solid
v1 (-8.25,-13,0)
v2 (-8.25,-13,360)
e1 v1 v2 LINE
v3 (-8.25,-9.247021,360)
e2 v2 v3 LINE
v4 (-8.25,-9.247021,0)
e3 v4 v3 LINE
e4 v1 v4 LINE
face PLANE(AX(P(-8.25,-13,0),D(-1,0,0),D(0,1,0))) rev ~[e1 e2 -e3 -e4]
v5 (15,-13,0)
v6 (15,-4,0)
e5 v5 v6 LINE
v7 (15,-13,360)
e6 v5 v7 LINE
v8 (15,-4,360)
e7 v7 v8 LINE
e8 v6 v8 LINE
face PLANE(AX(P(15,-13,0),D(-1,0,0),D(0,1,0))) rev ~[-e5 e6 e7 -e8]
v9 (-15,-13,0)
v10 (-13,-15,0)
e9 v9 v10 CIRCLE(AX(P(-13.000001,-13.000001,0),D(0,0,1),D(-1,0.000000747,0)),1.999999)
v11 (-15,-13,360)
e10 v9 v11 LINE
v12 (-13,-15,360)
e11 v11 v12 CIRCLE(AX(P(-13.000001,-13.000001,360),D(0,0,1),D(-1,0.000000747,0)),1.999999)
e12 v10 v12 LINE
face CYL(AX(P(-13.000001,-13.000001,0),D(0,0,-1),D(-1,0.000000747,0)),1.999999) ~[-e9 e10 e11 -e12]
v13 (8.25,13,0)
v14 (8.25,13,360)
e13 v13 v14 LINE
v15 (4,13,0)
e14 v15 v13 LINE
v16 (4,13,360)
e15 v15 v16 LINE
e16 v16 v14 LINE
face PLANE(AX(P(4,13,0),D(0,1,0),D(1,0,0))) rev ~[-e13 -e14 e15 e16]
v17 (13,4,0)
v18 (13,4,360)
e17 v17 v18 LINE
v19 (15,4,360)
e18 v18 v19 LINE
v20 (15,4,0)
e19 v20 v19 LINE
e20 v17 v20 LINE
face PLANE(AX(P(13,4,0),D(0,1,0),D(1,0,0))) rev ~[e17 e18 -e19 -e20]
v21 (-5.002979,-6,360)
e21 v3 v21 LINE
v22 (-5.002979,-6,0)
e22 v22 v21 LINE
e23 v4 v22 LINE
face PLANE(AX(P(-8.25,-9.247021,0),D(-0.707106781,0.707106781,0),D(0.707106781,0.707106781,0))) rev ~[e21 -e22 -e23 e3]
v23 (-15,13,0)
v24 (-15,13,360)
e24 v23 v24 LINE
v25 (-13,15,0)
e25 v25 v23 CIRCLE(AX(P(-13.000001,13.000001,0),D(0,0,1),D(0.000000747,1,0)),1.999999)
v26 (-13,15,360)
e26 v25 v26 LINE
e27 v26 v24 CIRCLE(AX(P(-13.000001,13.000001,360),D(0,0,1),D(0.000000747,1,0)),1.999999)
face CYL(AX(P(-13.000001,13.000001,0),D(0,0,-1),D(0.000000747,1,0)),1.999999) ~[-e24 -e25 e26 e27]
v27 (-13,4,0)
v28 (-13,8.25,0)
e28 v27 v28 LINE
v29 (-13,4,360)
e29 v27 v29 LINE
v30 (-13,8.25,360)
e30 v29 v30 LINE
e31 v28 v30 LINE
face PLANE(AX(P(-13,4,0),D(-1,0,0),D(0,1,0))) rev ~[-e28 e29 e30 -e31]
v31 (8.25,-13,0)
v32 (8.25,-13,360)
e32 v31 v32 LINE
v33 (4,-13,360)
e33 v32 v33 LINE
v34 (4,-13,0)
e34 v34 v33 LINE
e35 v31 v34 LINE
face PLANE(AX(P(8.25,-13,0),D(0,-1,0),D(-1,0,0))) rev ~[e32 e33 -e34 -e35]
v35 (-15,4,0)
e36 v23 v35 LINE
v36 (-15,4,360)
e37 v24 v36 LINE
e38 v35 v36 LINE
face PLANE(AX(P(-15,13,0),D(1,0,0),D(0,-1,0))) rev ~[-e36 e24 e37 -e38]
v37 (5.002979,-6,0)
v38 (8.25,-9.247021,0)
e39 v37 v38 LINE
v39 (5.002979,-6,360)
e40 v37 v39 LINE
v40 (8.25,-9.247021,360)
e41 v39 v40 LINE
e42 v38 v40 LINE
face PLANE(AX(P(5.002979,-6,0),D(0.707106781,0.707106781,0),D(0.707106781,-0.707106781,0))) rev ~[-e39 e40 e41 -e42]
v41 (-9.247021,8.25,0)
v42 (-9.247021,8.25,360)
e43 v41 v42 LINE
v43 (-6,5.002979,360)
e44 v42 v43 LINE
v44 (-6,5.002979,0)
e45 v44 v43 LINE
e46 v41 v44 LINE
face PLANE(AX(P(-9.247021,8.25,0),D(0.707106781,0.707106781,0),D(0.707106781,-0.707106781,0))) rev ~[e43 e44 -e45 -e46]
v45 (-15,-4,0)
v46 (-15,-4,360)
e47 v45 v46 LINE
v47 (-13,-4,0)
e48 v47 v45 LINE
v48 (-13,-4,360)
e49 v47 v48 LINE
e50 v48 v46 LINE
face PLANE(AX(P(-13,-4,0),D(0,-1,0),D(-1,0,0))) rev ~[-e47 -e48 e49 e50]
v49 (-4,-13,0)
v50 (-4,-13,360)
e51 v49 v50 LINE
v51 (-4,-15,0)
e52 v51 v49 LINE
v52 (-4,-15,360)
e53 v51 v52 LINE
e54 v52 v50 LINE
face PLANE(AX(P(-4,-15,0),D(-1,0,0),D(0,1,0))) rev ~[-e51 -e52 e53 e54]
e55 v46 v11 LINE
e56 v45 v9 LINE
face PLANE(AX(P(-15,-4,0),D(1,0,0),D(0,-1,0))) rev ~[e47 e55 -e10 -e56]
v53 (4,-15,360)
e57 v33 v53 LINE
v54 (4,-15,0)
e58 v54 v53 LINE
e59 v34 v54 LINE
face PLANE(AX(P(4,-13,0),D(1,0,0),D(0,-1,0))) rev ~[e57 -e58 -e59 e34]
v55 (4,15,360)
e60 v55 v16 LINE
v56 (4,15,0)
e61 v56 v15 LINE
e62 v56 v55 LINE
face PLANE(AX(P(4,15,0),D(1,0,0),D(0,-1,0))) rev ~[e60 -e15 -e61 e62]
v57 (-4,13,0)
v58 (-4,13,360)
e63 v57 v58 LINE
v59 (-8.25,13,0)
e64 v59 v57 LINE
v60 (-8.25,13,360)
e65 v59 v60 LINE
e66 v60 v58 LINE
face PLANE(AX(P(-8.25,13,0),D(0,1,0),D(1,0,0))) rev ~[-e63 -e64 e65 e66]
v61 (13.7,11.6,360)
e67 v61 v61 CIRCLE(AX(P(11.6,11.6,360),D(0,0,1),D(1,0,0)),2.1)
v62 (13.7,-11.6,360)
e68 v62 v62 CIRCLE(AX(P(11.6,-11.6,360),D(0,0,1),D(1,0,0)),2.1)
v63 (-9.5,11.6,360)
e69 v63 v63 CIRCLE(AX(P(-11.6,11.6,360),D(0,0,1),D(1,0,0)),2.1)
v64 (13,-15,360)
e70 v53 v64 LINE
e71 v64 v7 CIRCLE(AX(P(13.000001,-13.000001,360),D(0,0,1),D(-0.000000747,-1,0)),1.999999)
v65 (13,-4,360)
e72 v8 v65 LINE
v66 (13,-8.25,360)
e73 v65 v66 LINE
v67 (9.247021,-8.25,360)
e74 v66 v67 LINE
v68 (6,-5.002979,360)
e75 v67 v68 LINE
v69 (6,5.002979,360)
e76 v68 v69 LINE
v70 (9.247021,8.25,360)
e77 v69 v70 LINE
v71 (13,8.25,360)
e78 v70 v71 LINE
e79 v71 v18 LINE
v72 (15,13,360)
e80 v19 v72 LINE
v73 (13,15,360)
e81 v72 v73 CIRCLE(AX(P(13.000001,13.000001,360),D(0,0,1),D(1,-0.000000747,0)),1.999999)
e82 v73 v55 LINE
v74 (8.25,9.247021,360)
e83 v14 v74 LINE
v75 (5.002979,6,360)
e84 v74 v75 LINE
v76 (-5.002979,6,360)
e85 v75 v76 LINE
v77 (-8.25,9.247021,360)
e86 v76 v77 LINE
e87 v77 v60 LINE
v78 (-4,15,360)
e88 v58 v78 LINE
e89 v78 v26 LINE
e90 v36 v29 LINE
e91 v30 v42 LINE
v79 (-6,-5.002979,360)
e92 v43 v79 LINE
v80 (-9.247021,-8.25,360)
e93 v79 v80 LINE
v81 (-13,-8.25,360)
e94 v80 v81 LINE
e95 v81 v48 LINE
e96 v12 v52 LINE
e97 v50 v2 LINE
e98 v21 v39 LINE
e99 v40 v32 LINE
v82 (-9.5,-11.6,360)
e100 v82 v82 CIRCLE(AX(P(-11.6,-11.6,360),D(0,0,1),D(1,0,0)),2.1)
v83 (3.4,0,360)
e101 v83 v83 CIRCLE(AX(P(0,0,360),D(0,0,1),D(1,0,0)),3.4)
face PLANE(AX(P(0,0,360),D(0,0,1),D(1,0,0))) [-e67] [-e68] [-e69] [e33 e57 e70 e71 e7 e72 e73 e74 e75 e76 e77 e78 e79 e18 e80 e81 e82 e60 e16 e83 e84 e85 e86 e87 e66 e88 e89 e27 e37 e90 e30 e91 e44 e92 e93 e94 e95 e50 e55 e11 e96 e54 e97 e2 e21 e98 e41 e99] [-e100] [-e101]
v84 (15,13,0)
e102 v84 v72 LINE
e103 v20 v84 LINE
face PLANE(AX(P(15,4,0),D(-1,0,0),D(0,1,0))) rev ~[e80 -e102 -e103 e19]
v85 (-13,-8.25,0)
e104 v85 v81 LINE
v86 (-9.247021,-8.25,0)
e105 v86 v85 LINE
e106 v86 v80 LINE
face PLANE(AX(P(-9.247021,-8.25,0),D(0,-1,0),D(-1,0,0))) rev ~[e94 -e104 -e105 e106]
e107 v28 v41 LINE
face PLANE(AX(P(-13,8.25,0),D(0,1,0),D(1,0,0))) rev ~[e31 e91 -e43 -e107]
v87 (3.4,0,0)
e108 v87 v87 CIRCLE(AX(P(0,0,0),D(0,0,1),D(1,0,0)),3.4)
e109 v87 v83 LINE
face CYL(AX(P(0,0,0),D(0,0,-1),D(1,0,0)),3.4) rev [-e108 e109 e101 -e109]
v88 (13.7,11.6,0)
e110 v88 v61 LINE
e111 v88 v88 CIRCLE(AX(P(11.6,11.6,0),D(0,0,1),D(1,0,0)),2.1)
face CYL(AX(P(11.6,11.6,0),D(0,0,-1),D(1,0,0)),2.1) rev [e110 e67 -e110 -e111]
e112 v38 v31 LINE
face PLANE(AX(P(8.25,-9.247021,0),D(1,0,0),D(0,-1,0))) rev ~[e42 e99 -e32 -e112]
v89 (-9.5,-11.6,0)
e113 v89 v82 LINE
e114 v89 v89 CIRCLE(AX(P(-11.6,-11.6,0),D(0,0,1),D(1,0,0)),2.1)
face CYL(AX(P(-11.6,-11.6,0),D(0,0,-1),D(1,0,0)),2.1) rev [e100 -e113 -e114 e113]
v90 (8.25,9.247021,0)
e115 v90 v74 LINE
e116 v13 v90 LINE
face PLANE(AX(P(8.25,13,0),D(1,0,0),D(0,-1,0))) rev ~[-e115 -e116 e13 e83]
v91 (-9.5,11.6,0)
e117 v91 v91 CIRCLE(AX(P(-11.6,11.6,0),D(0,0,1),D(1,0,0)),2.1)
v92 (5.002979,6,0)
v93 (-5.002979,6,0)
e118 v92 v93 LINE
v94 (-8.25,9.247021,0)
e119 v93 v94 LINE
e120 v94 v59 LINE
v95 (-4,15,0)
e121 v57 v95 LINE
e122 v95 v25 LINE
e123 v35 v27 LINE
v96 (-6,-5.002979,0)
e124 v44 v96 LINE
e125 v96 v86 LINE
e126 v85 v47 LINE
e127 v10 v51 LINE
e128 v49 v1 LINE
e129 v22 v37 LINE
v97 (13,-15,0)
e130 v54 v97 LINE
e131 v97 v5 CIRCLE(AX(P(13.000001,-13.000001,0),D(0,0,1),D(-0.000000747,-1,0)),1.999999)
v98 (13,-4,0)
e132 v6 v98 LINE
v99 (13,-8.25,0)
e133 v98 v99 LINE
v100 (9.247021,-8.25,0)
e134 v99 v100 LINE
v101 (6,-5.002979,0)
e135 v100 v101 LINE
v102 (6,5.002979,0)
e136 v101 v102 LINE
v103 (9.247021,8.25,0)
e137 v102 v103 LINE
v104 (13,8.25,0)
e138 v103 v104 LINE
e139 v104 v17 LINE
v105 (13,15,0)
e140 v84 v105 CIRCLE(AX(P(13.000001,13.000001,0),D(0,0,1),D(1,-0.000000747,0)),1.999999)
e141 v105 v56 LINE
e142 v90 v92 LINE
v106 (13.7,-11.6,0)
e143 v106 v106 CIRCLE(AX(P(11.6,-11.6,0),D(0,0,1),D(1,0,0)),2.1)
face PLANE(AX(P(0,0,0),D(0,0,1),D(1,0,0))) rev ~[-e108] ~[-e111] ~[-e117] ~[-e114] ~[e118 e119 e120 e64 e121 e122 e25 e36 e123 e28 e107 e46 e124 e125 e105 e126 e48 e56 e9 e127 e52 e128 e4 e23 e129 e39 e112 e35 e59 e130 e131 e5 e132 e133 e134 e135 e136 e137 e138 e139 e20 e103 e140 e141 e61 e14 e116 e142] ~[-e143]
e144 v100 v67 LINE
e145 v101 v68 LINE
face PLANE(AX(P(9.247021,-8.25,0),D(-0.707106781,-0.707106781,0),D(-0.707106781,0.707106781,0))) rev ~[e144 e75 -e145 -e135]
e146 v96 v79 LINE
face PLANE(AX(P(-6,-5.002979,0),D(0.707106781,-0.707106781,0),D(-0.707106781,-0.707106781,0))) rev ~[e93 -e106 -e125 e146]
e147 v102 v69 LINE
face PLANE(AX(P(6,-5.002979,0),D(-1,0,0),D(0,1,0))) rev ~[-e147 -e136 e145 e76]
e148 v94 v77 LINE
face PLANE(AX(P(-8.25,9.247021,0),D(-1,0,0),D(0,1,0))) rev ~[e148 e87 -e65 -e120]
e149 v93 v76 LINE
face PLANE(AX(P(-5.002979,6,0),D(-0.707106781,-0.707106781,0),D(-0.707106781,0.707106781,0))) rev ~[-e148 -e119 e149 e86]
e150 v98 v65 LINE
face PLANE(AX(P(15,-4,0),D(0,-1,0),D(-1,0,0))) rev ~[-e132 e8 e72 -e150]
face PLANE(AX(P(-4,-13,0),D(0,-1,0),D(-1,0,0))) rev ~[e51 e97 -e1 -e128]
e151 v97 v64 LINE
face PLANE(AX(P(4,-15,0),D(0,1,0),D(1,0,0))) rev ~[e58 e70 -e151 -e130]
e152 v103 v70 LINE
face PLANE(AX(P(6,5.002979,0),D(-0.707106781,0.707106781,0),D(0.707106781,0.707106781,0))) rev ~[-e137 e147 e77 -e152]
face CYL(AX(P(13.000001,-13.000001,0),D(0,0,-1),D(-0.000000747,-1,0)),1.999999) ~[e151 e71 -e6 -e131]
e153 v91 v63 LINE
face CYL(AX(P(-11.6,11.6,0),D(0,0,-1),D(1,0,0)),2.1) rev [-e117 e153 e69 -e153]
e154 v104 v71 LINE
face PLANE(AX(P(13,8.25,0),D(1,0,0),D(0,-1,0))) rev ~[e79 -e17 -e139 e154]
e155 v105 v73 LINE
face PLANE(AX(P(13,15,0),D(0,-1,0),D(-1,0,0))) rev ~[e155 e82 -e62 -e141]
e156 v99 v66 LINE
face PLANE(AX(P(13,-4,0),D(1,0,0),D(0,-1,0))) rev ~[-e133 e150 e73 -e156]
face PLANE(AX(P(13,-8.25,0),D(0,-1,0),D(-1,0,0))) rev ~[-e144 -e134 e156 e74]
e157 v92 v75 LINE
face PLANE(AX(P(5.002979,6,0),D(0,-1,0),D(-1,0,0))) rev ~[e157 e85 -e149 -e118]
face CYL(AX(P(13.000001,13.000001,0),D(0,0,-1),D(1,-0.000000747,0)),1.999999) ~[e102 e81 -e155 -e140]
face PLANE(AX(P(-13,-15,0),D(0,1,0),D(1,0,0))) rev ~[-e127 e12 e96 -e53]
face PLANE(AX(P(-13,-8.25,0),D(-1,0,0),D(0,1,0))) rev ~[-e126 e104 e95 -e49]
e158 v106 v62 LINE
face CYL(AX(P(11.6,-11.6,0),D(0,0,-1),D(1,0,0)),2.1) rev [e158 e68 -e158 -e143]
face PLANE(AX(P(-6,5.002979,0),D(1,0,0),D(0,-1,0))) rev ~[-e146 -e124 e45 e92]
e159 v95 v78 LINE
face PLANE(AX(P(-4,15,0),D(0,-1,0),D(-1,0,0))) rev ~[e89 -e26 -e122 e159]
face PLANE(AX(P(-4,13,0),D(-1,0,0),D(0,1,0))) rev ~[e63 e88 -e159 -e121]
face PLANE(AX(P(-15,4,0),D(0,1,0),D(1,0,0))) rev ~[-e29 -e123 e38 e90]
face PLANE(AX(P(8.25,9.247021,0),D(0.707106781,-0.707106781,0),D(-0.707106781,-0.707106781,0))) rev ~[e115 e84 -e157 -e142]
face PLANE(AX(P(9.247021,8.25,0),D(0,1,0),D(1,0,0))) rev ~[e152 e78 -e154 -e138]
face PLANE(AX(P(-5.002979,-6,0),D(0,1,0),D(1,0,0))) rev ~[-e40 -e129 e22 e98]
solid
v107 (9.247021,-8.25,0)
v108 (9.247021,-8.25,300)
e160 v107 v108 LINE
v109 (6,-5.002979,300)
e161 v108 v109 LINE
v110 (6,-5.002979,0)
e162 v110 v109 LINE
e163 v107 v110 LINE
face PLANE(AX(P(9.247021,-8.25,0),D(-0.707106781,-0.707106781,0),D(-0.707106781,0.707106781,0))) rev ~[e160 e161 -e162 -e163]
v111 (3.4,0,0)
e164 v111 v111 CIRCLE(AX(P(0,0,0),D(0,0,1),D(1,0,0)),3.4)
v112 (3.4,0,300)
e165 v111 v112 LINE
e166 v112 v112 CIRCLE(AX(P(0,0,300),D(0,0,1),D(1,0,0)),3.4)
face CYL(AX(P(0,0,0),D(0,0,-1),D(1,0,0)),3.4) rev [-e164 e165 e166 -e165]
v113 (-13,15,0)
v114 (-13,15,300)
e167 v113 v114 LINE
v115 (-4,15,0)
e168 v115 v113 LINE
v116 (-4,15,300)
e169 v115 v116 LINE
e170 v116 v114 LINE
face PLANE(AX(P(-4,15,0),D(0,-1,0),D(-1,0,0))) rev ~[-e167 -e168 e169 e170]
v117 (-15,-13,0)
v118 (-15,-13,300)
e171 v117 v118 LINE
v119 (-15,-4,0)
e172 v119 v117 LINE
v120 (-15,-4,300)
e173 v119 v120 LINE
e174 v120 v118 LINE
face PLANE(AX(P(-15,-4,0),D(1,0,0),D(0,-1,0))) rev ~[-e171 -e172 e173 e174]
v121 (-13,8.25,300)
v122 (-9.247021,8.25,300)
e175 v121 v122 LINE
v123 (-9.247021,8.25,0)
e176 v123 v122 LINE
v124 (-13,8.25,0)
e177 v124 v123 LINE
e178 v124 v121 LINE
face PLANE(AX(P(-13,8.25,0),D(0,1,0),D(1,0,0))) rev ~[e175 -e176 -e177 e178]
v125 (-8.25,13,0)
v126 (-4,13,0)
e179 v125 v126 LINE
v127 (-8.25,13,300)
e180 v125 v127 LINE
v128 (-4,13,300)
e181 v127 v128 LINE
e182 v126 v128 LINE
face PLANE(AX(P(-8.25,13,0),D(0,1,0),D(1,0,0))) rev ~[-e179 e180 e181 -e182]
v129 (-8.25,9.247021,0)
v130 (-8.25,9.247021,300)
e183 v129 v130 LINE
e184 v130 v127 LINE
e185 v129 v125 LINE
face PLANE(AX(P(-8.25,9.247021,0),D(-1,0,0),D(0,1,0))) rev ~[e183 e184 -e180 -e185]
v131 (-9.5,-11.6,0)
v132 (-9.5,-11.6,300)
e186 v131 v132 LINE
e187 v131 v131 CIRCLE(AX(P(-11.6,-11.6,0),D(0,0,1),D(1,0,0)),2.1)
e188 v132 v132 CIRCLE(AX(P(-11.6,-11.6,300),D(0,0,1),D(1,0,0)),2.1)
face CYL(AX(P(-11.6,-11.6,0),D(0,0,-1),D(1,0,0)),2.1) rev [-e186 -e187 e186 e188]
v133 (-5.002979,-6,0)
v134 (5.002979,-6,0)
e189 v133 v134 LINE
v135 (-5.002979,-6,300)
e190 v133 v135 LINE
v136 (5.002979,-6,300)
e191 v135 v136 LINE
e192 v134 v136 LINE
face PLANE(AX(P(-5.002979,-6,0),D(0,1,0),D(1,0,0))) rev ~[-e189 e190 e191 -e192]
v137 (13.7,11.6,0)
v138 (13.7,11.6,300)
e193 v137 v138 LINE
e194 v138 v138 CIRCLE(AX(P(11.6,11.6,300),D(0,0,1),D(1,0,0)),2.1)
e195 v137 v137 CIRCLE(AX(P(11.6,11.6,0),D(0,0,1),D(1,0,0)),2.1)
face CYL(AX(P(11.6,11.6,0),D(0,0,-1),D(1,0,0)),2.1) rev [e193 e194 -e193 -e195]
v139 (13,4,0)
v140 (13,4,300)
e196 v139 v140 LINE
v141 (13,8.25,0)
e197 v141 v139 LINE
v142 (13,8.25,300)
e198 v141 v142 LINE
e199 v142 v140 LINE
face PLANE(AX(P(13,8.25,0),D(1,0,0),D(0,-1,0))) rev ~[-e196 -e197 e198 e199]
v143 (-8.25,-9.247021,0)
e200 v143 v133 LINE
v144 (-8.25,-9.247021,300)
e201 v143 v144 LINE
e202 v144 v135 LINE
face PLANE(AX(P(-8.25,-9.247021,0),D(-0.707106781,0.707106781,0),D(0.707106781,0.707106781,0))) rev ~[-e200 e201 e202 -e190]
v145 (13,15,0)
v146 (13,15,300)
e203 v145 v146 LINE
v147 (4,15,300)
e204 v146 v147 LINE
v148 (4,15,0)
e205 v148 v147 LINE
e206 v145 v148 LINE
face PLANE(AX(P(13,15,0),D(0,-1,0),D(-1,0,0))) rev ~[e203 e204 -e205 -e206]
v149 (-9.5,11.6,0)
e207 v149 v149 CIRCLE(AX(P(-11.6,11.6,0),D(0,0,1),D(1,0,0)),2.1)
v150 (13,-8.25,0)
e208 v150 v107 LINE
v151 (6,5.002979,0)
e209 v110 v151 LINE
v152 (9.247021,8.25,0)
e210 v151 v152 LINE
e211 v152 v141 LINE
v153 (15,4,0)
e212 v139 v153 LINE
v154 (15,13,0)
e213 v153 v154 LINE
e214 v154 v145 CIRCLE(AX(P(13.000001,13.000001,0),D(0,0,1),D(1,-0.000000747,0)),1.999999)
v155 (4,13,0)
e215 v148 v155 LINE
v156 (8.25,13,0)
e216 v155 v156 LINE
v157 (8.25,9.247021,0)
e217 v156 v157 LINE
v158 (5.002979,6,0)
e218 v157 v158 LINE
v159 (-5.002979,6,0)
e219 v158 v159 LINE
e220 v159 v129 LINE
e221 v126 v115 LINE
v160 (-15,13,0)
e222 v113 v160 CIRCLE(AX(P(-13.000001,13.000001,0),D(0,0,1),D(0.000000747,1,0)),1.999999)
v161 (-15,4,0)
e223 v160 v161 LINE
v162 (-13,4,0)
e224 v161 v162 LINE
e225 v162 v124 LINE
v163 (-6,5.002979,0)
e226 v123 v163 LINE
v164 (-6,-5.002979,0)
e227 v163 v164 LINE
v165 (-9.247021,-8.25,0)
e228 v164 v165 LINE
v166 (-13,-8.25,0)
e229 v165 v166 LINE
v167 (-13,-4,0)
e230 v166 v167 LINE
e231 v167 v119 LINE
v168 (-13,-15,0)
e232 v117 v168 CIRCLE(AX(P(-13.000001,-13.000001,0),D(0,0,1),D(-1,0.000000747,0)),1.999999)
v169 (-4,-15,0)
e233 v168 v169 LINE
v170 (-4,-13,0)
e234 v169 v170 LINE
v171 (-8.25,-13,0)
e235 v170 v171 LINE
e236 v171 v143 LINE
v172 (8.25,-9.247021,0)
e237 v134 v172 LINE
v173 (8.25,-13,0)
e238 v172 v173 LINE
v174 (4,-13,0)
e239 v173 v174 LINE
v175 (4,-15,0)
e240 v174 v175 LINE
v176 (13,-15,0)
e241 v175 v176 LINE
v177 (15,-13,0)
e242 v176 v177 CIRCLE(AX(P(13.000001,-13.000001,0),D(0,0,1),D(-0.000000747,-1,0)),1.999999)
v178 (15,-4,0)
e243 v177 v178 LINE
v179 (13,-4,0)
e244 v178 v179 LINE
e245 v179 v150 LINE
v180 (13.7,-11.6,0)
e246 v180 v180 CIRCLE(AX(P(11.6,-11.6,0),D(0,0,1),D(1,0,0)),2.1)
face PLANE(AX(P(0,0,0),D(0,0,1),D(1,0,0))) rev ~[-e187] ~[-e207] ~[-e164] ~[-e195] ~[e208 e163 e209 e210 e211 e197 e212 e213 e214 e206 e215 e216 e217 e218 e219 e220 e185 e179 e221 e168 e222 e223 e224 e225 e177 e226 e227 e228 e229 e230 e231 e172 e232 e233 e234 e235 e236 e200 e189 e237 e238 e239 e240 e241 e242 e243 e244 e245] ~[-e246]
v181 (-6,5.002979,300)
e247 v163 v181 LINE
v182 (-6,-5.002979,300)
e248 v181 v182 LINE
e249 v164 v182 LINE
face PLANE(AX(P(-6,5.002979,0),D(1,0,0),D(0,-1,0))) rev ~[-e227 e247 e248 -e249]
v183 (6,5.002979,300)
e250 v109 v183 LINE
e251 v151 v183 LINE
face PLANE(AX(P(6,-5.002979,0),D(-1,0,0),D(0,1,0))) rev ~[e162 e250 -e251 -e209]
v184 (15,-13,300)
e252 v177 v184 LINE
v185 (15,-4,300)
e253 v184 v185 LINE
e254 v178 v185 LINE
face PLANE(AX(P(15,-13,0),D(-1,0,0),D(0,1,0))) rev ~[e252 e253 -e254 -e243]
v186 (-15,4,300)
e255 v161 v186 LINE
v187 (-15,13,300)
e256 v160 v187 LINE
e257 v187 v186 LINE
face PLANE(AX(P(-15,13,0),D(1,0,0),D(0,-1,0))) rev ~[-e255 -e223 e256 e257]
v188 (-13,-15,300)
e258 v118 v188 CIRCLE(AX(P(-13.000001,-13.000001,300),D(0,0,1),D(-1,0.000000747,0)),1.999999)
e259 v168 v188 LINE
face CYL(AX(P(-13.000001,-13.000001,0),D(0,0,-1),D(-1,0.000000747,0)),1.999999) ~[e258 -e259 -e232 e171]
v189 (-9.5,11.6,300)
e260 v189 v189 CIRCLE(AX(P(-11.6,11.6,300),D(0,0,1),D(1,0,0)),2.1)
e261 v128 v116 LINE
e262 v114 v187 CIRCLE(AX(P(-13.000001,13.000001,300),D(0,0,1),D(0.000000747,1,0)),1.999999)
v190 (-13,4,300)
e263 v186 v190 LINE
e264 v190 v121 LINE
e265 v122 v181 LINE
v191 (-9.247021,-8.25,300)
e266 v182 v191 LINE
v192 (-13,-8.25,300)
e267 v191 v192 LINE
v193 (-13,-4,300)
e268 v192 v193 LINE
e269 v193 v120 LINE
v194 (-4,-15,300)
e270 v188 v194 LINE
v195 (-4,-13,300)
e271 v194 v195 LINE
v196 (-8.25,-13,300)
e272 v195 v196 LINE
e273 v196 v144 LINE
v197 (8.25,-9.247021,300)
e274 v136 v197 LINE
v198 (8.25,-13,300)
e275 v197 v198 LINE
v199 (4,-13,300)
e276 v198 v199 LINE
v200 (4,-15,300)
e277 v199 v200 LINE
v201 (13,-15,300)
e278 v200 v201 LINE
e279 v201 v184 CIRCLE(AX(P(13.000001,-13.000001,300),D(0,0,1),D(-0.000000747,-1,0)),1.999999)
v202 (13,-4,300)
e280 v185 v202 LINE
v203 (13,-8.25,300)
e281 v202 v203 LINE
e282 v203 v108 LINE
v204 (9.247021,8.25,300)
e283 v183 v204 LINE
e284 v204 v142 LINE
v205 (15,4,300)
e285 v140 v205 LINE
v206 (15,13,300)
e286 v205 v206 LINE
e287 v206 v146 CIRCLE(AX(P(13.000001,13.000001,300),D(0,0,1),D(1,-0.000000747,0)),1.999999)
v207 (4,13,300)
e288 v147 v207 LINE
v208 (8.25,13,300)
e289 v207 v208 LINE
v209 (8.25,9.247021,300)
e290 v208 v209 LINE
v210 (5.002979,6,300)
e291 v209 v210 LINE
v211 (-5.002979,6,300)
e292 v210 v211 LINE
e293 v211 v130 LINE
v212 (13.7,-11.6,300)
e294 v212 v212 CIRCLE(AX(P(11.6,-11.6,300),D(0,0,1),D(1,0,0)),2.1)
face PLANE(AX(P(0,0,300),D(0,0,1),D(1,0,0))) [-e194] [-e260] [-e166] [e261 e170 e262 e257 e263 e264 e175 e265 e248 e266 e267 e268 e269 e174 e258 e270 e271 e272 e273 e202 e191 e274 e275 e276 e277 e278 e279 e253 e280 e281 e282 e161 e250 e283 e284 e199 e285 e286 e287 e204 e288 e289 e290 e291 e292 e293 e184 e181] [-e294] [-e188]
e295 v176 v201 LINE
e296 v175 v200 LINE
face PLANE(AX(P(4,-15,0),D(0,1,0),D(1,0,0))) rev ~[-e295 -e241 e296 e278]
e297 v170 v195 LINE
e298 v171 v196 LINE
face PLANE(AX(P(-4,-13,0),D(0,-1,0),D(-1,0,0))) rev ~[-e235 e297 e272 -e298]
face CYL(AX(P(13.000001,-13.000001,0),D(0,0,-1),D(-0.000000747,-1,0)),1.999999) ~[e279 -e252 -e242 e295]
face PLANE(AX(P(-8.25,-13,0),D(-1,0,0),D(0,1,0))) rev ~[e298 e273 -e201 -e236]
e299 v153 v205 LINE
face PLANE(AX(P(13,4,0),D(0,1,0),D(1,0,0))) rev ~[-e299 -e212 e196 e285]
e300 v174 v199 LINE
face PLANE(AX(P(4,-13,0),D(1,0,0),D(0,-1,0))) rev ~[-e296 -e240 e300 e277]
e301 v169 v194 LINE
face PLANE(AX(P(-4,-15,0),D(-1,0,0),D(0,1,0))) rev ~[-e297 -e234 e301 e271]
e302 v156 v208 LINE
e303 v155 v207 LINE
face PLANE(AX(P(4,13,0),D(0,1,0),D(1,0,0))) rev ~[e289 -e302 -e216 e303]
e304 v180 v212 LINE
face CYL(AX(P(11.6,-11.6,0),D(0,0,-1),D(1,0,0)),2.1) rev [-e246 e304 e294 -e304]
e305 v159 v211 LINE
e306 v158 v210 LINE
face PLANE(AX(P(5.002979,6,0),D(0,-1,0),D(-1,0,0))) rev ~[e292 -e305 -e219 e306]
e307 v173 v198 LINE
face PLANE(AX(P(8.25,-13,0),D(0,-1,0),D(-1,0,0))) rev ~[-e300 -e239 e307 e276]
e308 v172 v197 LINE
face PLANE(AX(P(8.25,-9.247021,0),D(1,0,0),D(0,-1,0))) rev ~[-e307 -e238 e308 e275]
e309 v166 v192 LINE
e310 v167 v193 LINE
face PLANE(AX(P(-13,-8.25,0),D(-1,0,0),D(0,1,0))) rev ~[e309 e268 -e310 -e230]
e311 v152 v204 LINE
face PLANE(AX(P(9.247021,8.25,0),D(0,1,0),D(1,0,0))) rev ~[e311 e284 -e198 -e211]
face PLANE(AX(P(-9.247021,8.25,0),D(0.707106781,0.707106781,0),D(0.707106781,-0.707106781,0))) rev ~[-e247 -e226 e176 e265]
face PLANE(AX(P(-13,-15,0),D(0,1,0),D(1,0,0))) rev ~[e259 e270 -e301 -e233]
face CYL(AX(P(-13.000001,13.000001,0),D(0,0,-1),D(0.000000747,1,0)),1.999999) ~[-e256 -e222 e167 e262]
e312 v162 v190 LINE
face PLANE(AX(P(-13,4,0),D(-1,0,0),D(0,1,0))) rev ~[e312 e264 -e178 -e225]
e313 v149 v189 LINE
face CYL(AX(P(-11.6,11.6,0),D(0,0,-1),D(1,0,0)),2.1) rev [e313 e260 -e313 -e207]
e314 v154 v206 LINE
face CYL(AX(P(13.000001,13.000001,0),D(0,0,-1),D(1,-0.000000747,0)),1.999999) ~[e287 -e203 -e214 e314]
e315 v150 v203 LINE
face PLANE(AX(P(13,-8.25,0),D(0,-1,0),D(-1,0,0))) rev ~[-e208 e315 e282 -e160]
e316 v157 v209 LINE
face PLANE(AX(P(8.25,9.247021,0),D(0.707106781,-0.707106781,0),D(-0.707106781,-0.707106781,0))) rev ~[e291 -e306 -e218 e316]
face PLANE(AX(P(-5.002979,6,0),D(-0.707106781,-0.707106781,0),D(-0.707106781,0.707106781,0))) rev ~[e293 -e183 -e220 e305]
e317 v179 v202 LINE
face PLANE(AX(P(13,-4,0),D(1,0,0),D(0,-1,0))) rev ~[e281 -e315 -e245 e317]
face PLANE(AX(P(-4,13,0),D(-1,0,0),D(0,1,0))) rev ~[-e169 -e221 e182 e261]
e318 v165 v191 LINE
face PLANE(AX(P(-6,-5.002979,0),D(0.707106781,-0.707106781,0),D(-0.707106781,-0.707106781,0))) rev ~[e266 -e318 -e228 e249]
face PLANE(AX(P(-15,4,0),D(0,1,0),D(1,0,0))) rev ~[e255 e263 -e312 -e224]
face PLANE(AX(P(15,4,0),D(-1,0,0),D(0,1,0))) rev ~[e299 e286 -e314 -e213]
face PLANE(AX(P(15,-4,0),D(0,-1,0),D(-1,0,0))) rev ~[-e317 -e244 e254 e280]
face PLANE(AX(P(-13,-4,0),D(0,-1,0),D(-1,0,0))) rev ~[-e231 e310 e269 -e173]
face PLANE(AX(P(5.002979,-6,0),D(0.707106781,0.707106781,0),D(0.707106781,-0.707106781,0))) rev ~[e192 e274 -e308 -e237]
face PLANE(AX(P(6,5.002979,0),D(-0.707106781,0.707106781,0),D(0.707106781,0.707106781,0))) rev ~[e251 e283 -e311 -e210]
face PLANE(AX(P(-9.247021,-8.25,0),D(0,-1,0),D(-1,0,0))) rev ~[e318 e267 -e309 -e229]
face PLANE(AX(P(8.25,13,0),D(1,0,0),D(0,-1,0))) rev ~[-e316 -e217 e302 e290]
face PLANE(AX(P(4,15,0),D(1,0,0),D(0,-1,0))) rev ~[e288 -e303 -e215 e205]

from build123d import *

# Parameters (mm, degrees)
F0_R     = 2.1
F0_R_2   = 3.4
F1_DEPTH = 300
F2_DEPTH = 360


with BuildPart() as f1:
    # F0 (on Top) → F1 (new body)
    with BuildSketch(Plane.XY):
        with BuildLine():
            Line((13, 15), (4, 15))
            Line((4, 15), (4, 13))
            Line((4, 13), (8.25, 13))
            Line((8.25, 13), (8.25, 9.247021))
            Line((8.25, 9.247021), (5.002979, 6))
            Line((5.002979, 6), (0, 6))
            Line((0, 6), (-5.002979, 6))
            Line((-5.002979, 6), (-8.25, 9.247021))
            Line((-8.25, 9.247021), (-8.25, 13))
            Line((-8.25, 13), (-4, 13))
            Line((-4, 13), (-4, 15))
            Line((-4, 15), (-13, 15))
            ThreePointArc((-13, 15), (-14.414214, 14.414214), (-15, 13))
            Line((-15, 13), (-15, 4))
            Line((-15, 4), (-13, 4))
            Line((-13, 4), (-13, 8.25))
            Line((-13, 8.25), (-9.247021, 8.25))
            Line((-9.247021, 8.25), (-6, 5.002979))
            Line((-6, 5.002979), (-6, 0))
            Line((-6, 0), (-6, -5.002979))
            Line((-6, -5.002979), (-9.247021, -8.25))
            Line((-9.247021, -8.25), (-13, -8.25))
            Line((-13, -8.25), (-13, -4))
            Line((-13, -4), (-15, -4))
            Line((-15, -4), (-15, -13))
            ThreePointArc((-15, -13), (-14.414214, -14.414214), (-13, -15))
            Line((-13, -15), (-4, -15))
            Line((-4, -15), (-4, -13))
            Line((-4, -13), (-8.25, -13))
            Line((-8.25, -13), (-8.25, -9.247021))
            Line((-8.25, -9.247021), (-5.002979, -6))
            Line((-5.002979, -6), (0, -6))
            Line((0, -6), (5.002979, -6))
            Line((5.002979, -6), (8.25, -9.247021))
            Line((8.25, -9.247021), (8.25, -13))
            Line((8.25, -13), (4, -13))
            Line((4, -13), (4, -15))
            Line((4, -15), (13, -15))
            ThreePointArc((13, -15), (14.414214, -14.414214), (15, -13))
            Line((15, -13), (15, -4))
            Line((15, -4), (13, -4))
            Line((13, -4), (13, -8.25))
            Line((13, -8.25), (9.247021, -8.25))
            Line((9.247021, -8.25), (6, -5.002979))
            Line((6, -5.002979), (6, 0))
            Line((6, 0), (6, 5.002979))
            Line((6, 5.002979), (9.247021, 8.25))
            Line((9.247021, 8.25), (13, 8.25))
            Line((13, 8.25), (13, 4))
            Line((13, 4), (15, 4))
            Line((15, 4), (15, 13))
            ThreePointArc((15, 13), (14.414214, 14.414214), (13, 15))
        make_face()
        with Locations((-11.6, -11.6)):
            Circle(F0_R, mode=Mode.SUBTRACT)
        with Locations((11.6, -11.6)):
            Circle(F0_R, mode=Mode.SUBTRACT)
        with Locations((-11.6, 11.6)):
            Circle(F0_R, mode=Mode.SUBTRACT)
        Circle(F0_R_2, mode=Mode.SUBTRACT)
        with Locations((11.6, 11.6)):
            Circle(F0_R, mode=Mode.SUBTRACT)
    extrude(amount=F1_DEPTH)


with BuildPart() as f2:
    # F0 (on Top) → F2 (new body)
    with BuildSketch(Plane.XY):
        with BuildLine():
            Line((13, 15), (4, 15))
            Line((4, 15), (4, 13))
            Line((4, 13), (8.25, 13))
            Line((8.25, 13), (8.25, 9.247021))
            Line((8.25, 9.247021), (5.002979, 6))
            Line((5.002979, 6), (0, 6))
            Line((0, 6), (-5.002979, 6))
            Line((-5.002979, 6), (-8.25, 9.247021))
            Line((-8.25, 9.247021), (-8.25, 13))
            Line((-8.25, 13), (-4, 13))
            Line((-4, 13), (-4, 15))
            Line((-4, 15), (-13, 15))
            ThreePointArc((-13, 15), (-14.414214, 14.414214), (-15, 13))
            Line((-15, 13), (-15, 4))
            Line((-15, 4), (-13, 4))
            Line((-13, 4), (-13, 8.25))
            Line((-13, 8.25), (-9.247021, 8.25))
            Line((-9.247021, 8.25), (-6, 5.002979))
            Line((-6, 5.002979), (-6, 0))
            Line((-6, 0), (-6, -5.002979))
            Line((-6, -5.002979), (-9.247021, -8.25))
            Line((-9.247021, -8.25), (-13, -8.25))
            Line((-13, -8.25), (-13, -4))
            Line((-13, -4), (-15, -4))
            Line((-15, -4), (-15, -13))
            ThreePointArc((-15, -13), (-14.414214, -14.414214), (-13, -15))
            Line((-13, -15), (-4, -15))
            Line((-4, -15), (-4, -13))
            Line((-4, -13), (-8.25, -13))
            Line((-8.25, -13), (-8.25, -9.247021))
            Line((-8.25, -9.247021), (-5.002979, -6))
            Line((-5.002979, -6), (0, -6))
            Line((0, -6), (5.002979, -6))
            Line((5.002979, -6), (8.25, -9.247021))
            Line((8.25, -9.247021), (8.25, -13))
            Line((8.25, -13), (4, -13))
            Line((4, -13), (4, -15))
            Line((4, -15), (13, -15))
            ThreePointArc((13, -15), (14.414214, -14.414214), (15, -13))
            Line((15, -13), (15, -4))
            Line((15, -4), (13, -4))
            Line((13, -4), (13, -8.25))
            Line((13, -8.25), (9.247021, -8.25))
            Line((9.247021, -8.25), (6, -5.002979))
            Line((6, -5.002979), (6, 0))
            Line((6, 0), (6, 5.002979))
            Line((6, 5.002979), (9.247021, 8.25))
            Line((9.247021, 8.25), (13, 8.25))
            Line((13, 8.25), (13, 4))
            Line((13, 4), (15, 4))
            Line((15, 4), (15, 13))
            ThreePointArc((15, 13), (14.414214, 14.414214), (13, 15))
        make_face()
        with Locations((-11.6, -11.6)):
            Circle(F0_R, mode=Mode.SUBTRACT)
        with Locations((11.6, -11.6)):
            Circle(F0_R, mode=Mode.SUBTRACT)
        with Locations((-11.6, 11.6)):
            Circle(F0_R, mode=Mode.SUBTRACT)
        Circle(F0_R_2, mode=Mode.SUBTRACT)
        with Locations((11.6, 11.6)):
            Circle(F0_R, mode=Mode.SUBTRACT)
    extrude(amount=F2_DEPTH)


solid = Compound([f1.part, f2.part])
